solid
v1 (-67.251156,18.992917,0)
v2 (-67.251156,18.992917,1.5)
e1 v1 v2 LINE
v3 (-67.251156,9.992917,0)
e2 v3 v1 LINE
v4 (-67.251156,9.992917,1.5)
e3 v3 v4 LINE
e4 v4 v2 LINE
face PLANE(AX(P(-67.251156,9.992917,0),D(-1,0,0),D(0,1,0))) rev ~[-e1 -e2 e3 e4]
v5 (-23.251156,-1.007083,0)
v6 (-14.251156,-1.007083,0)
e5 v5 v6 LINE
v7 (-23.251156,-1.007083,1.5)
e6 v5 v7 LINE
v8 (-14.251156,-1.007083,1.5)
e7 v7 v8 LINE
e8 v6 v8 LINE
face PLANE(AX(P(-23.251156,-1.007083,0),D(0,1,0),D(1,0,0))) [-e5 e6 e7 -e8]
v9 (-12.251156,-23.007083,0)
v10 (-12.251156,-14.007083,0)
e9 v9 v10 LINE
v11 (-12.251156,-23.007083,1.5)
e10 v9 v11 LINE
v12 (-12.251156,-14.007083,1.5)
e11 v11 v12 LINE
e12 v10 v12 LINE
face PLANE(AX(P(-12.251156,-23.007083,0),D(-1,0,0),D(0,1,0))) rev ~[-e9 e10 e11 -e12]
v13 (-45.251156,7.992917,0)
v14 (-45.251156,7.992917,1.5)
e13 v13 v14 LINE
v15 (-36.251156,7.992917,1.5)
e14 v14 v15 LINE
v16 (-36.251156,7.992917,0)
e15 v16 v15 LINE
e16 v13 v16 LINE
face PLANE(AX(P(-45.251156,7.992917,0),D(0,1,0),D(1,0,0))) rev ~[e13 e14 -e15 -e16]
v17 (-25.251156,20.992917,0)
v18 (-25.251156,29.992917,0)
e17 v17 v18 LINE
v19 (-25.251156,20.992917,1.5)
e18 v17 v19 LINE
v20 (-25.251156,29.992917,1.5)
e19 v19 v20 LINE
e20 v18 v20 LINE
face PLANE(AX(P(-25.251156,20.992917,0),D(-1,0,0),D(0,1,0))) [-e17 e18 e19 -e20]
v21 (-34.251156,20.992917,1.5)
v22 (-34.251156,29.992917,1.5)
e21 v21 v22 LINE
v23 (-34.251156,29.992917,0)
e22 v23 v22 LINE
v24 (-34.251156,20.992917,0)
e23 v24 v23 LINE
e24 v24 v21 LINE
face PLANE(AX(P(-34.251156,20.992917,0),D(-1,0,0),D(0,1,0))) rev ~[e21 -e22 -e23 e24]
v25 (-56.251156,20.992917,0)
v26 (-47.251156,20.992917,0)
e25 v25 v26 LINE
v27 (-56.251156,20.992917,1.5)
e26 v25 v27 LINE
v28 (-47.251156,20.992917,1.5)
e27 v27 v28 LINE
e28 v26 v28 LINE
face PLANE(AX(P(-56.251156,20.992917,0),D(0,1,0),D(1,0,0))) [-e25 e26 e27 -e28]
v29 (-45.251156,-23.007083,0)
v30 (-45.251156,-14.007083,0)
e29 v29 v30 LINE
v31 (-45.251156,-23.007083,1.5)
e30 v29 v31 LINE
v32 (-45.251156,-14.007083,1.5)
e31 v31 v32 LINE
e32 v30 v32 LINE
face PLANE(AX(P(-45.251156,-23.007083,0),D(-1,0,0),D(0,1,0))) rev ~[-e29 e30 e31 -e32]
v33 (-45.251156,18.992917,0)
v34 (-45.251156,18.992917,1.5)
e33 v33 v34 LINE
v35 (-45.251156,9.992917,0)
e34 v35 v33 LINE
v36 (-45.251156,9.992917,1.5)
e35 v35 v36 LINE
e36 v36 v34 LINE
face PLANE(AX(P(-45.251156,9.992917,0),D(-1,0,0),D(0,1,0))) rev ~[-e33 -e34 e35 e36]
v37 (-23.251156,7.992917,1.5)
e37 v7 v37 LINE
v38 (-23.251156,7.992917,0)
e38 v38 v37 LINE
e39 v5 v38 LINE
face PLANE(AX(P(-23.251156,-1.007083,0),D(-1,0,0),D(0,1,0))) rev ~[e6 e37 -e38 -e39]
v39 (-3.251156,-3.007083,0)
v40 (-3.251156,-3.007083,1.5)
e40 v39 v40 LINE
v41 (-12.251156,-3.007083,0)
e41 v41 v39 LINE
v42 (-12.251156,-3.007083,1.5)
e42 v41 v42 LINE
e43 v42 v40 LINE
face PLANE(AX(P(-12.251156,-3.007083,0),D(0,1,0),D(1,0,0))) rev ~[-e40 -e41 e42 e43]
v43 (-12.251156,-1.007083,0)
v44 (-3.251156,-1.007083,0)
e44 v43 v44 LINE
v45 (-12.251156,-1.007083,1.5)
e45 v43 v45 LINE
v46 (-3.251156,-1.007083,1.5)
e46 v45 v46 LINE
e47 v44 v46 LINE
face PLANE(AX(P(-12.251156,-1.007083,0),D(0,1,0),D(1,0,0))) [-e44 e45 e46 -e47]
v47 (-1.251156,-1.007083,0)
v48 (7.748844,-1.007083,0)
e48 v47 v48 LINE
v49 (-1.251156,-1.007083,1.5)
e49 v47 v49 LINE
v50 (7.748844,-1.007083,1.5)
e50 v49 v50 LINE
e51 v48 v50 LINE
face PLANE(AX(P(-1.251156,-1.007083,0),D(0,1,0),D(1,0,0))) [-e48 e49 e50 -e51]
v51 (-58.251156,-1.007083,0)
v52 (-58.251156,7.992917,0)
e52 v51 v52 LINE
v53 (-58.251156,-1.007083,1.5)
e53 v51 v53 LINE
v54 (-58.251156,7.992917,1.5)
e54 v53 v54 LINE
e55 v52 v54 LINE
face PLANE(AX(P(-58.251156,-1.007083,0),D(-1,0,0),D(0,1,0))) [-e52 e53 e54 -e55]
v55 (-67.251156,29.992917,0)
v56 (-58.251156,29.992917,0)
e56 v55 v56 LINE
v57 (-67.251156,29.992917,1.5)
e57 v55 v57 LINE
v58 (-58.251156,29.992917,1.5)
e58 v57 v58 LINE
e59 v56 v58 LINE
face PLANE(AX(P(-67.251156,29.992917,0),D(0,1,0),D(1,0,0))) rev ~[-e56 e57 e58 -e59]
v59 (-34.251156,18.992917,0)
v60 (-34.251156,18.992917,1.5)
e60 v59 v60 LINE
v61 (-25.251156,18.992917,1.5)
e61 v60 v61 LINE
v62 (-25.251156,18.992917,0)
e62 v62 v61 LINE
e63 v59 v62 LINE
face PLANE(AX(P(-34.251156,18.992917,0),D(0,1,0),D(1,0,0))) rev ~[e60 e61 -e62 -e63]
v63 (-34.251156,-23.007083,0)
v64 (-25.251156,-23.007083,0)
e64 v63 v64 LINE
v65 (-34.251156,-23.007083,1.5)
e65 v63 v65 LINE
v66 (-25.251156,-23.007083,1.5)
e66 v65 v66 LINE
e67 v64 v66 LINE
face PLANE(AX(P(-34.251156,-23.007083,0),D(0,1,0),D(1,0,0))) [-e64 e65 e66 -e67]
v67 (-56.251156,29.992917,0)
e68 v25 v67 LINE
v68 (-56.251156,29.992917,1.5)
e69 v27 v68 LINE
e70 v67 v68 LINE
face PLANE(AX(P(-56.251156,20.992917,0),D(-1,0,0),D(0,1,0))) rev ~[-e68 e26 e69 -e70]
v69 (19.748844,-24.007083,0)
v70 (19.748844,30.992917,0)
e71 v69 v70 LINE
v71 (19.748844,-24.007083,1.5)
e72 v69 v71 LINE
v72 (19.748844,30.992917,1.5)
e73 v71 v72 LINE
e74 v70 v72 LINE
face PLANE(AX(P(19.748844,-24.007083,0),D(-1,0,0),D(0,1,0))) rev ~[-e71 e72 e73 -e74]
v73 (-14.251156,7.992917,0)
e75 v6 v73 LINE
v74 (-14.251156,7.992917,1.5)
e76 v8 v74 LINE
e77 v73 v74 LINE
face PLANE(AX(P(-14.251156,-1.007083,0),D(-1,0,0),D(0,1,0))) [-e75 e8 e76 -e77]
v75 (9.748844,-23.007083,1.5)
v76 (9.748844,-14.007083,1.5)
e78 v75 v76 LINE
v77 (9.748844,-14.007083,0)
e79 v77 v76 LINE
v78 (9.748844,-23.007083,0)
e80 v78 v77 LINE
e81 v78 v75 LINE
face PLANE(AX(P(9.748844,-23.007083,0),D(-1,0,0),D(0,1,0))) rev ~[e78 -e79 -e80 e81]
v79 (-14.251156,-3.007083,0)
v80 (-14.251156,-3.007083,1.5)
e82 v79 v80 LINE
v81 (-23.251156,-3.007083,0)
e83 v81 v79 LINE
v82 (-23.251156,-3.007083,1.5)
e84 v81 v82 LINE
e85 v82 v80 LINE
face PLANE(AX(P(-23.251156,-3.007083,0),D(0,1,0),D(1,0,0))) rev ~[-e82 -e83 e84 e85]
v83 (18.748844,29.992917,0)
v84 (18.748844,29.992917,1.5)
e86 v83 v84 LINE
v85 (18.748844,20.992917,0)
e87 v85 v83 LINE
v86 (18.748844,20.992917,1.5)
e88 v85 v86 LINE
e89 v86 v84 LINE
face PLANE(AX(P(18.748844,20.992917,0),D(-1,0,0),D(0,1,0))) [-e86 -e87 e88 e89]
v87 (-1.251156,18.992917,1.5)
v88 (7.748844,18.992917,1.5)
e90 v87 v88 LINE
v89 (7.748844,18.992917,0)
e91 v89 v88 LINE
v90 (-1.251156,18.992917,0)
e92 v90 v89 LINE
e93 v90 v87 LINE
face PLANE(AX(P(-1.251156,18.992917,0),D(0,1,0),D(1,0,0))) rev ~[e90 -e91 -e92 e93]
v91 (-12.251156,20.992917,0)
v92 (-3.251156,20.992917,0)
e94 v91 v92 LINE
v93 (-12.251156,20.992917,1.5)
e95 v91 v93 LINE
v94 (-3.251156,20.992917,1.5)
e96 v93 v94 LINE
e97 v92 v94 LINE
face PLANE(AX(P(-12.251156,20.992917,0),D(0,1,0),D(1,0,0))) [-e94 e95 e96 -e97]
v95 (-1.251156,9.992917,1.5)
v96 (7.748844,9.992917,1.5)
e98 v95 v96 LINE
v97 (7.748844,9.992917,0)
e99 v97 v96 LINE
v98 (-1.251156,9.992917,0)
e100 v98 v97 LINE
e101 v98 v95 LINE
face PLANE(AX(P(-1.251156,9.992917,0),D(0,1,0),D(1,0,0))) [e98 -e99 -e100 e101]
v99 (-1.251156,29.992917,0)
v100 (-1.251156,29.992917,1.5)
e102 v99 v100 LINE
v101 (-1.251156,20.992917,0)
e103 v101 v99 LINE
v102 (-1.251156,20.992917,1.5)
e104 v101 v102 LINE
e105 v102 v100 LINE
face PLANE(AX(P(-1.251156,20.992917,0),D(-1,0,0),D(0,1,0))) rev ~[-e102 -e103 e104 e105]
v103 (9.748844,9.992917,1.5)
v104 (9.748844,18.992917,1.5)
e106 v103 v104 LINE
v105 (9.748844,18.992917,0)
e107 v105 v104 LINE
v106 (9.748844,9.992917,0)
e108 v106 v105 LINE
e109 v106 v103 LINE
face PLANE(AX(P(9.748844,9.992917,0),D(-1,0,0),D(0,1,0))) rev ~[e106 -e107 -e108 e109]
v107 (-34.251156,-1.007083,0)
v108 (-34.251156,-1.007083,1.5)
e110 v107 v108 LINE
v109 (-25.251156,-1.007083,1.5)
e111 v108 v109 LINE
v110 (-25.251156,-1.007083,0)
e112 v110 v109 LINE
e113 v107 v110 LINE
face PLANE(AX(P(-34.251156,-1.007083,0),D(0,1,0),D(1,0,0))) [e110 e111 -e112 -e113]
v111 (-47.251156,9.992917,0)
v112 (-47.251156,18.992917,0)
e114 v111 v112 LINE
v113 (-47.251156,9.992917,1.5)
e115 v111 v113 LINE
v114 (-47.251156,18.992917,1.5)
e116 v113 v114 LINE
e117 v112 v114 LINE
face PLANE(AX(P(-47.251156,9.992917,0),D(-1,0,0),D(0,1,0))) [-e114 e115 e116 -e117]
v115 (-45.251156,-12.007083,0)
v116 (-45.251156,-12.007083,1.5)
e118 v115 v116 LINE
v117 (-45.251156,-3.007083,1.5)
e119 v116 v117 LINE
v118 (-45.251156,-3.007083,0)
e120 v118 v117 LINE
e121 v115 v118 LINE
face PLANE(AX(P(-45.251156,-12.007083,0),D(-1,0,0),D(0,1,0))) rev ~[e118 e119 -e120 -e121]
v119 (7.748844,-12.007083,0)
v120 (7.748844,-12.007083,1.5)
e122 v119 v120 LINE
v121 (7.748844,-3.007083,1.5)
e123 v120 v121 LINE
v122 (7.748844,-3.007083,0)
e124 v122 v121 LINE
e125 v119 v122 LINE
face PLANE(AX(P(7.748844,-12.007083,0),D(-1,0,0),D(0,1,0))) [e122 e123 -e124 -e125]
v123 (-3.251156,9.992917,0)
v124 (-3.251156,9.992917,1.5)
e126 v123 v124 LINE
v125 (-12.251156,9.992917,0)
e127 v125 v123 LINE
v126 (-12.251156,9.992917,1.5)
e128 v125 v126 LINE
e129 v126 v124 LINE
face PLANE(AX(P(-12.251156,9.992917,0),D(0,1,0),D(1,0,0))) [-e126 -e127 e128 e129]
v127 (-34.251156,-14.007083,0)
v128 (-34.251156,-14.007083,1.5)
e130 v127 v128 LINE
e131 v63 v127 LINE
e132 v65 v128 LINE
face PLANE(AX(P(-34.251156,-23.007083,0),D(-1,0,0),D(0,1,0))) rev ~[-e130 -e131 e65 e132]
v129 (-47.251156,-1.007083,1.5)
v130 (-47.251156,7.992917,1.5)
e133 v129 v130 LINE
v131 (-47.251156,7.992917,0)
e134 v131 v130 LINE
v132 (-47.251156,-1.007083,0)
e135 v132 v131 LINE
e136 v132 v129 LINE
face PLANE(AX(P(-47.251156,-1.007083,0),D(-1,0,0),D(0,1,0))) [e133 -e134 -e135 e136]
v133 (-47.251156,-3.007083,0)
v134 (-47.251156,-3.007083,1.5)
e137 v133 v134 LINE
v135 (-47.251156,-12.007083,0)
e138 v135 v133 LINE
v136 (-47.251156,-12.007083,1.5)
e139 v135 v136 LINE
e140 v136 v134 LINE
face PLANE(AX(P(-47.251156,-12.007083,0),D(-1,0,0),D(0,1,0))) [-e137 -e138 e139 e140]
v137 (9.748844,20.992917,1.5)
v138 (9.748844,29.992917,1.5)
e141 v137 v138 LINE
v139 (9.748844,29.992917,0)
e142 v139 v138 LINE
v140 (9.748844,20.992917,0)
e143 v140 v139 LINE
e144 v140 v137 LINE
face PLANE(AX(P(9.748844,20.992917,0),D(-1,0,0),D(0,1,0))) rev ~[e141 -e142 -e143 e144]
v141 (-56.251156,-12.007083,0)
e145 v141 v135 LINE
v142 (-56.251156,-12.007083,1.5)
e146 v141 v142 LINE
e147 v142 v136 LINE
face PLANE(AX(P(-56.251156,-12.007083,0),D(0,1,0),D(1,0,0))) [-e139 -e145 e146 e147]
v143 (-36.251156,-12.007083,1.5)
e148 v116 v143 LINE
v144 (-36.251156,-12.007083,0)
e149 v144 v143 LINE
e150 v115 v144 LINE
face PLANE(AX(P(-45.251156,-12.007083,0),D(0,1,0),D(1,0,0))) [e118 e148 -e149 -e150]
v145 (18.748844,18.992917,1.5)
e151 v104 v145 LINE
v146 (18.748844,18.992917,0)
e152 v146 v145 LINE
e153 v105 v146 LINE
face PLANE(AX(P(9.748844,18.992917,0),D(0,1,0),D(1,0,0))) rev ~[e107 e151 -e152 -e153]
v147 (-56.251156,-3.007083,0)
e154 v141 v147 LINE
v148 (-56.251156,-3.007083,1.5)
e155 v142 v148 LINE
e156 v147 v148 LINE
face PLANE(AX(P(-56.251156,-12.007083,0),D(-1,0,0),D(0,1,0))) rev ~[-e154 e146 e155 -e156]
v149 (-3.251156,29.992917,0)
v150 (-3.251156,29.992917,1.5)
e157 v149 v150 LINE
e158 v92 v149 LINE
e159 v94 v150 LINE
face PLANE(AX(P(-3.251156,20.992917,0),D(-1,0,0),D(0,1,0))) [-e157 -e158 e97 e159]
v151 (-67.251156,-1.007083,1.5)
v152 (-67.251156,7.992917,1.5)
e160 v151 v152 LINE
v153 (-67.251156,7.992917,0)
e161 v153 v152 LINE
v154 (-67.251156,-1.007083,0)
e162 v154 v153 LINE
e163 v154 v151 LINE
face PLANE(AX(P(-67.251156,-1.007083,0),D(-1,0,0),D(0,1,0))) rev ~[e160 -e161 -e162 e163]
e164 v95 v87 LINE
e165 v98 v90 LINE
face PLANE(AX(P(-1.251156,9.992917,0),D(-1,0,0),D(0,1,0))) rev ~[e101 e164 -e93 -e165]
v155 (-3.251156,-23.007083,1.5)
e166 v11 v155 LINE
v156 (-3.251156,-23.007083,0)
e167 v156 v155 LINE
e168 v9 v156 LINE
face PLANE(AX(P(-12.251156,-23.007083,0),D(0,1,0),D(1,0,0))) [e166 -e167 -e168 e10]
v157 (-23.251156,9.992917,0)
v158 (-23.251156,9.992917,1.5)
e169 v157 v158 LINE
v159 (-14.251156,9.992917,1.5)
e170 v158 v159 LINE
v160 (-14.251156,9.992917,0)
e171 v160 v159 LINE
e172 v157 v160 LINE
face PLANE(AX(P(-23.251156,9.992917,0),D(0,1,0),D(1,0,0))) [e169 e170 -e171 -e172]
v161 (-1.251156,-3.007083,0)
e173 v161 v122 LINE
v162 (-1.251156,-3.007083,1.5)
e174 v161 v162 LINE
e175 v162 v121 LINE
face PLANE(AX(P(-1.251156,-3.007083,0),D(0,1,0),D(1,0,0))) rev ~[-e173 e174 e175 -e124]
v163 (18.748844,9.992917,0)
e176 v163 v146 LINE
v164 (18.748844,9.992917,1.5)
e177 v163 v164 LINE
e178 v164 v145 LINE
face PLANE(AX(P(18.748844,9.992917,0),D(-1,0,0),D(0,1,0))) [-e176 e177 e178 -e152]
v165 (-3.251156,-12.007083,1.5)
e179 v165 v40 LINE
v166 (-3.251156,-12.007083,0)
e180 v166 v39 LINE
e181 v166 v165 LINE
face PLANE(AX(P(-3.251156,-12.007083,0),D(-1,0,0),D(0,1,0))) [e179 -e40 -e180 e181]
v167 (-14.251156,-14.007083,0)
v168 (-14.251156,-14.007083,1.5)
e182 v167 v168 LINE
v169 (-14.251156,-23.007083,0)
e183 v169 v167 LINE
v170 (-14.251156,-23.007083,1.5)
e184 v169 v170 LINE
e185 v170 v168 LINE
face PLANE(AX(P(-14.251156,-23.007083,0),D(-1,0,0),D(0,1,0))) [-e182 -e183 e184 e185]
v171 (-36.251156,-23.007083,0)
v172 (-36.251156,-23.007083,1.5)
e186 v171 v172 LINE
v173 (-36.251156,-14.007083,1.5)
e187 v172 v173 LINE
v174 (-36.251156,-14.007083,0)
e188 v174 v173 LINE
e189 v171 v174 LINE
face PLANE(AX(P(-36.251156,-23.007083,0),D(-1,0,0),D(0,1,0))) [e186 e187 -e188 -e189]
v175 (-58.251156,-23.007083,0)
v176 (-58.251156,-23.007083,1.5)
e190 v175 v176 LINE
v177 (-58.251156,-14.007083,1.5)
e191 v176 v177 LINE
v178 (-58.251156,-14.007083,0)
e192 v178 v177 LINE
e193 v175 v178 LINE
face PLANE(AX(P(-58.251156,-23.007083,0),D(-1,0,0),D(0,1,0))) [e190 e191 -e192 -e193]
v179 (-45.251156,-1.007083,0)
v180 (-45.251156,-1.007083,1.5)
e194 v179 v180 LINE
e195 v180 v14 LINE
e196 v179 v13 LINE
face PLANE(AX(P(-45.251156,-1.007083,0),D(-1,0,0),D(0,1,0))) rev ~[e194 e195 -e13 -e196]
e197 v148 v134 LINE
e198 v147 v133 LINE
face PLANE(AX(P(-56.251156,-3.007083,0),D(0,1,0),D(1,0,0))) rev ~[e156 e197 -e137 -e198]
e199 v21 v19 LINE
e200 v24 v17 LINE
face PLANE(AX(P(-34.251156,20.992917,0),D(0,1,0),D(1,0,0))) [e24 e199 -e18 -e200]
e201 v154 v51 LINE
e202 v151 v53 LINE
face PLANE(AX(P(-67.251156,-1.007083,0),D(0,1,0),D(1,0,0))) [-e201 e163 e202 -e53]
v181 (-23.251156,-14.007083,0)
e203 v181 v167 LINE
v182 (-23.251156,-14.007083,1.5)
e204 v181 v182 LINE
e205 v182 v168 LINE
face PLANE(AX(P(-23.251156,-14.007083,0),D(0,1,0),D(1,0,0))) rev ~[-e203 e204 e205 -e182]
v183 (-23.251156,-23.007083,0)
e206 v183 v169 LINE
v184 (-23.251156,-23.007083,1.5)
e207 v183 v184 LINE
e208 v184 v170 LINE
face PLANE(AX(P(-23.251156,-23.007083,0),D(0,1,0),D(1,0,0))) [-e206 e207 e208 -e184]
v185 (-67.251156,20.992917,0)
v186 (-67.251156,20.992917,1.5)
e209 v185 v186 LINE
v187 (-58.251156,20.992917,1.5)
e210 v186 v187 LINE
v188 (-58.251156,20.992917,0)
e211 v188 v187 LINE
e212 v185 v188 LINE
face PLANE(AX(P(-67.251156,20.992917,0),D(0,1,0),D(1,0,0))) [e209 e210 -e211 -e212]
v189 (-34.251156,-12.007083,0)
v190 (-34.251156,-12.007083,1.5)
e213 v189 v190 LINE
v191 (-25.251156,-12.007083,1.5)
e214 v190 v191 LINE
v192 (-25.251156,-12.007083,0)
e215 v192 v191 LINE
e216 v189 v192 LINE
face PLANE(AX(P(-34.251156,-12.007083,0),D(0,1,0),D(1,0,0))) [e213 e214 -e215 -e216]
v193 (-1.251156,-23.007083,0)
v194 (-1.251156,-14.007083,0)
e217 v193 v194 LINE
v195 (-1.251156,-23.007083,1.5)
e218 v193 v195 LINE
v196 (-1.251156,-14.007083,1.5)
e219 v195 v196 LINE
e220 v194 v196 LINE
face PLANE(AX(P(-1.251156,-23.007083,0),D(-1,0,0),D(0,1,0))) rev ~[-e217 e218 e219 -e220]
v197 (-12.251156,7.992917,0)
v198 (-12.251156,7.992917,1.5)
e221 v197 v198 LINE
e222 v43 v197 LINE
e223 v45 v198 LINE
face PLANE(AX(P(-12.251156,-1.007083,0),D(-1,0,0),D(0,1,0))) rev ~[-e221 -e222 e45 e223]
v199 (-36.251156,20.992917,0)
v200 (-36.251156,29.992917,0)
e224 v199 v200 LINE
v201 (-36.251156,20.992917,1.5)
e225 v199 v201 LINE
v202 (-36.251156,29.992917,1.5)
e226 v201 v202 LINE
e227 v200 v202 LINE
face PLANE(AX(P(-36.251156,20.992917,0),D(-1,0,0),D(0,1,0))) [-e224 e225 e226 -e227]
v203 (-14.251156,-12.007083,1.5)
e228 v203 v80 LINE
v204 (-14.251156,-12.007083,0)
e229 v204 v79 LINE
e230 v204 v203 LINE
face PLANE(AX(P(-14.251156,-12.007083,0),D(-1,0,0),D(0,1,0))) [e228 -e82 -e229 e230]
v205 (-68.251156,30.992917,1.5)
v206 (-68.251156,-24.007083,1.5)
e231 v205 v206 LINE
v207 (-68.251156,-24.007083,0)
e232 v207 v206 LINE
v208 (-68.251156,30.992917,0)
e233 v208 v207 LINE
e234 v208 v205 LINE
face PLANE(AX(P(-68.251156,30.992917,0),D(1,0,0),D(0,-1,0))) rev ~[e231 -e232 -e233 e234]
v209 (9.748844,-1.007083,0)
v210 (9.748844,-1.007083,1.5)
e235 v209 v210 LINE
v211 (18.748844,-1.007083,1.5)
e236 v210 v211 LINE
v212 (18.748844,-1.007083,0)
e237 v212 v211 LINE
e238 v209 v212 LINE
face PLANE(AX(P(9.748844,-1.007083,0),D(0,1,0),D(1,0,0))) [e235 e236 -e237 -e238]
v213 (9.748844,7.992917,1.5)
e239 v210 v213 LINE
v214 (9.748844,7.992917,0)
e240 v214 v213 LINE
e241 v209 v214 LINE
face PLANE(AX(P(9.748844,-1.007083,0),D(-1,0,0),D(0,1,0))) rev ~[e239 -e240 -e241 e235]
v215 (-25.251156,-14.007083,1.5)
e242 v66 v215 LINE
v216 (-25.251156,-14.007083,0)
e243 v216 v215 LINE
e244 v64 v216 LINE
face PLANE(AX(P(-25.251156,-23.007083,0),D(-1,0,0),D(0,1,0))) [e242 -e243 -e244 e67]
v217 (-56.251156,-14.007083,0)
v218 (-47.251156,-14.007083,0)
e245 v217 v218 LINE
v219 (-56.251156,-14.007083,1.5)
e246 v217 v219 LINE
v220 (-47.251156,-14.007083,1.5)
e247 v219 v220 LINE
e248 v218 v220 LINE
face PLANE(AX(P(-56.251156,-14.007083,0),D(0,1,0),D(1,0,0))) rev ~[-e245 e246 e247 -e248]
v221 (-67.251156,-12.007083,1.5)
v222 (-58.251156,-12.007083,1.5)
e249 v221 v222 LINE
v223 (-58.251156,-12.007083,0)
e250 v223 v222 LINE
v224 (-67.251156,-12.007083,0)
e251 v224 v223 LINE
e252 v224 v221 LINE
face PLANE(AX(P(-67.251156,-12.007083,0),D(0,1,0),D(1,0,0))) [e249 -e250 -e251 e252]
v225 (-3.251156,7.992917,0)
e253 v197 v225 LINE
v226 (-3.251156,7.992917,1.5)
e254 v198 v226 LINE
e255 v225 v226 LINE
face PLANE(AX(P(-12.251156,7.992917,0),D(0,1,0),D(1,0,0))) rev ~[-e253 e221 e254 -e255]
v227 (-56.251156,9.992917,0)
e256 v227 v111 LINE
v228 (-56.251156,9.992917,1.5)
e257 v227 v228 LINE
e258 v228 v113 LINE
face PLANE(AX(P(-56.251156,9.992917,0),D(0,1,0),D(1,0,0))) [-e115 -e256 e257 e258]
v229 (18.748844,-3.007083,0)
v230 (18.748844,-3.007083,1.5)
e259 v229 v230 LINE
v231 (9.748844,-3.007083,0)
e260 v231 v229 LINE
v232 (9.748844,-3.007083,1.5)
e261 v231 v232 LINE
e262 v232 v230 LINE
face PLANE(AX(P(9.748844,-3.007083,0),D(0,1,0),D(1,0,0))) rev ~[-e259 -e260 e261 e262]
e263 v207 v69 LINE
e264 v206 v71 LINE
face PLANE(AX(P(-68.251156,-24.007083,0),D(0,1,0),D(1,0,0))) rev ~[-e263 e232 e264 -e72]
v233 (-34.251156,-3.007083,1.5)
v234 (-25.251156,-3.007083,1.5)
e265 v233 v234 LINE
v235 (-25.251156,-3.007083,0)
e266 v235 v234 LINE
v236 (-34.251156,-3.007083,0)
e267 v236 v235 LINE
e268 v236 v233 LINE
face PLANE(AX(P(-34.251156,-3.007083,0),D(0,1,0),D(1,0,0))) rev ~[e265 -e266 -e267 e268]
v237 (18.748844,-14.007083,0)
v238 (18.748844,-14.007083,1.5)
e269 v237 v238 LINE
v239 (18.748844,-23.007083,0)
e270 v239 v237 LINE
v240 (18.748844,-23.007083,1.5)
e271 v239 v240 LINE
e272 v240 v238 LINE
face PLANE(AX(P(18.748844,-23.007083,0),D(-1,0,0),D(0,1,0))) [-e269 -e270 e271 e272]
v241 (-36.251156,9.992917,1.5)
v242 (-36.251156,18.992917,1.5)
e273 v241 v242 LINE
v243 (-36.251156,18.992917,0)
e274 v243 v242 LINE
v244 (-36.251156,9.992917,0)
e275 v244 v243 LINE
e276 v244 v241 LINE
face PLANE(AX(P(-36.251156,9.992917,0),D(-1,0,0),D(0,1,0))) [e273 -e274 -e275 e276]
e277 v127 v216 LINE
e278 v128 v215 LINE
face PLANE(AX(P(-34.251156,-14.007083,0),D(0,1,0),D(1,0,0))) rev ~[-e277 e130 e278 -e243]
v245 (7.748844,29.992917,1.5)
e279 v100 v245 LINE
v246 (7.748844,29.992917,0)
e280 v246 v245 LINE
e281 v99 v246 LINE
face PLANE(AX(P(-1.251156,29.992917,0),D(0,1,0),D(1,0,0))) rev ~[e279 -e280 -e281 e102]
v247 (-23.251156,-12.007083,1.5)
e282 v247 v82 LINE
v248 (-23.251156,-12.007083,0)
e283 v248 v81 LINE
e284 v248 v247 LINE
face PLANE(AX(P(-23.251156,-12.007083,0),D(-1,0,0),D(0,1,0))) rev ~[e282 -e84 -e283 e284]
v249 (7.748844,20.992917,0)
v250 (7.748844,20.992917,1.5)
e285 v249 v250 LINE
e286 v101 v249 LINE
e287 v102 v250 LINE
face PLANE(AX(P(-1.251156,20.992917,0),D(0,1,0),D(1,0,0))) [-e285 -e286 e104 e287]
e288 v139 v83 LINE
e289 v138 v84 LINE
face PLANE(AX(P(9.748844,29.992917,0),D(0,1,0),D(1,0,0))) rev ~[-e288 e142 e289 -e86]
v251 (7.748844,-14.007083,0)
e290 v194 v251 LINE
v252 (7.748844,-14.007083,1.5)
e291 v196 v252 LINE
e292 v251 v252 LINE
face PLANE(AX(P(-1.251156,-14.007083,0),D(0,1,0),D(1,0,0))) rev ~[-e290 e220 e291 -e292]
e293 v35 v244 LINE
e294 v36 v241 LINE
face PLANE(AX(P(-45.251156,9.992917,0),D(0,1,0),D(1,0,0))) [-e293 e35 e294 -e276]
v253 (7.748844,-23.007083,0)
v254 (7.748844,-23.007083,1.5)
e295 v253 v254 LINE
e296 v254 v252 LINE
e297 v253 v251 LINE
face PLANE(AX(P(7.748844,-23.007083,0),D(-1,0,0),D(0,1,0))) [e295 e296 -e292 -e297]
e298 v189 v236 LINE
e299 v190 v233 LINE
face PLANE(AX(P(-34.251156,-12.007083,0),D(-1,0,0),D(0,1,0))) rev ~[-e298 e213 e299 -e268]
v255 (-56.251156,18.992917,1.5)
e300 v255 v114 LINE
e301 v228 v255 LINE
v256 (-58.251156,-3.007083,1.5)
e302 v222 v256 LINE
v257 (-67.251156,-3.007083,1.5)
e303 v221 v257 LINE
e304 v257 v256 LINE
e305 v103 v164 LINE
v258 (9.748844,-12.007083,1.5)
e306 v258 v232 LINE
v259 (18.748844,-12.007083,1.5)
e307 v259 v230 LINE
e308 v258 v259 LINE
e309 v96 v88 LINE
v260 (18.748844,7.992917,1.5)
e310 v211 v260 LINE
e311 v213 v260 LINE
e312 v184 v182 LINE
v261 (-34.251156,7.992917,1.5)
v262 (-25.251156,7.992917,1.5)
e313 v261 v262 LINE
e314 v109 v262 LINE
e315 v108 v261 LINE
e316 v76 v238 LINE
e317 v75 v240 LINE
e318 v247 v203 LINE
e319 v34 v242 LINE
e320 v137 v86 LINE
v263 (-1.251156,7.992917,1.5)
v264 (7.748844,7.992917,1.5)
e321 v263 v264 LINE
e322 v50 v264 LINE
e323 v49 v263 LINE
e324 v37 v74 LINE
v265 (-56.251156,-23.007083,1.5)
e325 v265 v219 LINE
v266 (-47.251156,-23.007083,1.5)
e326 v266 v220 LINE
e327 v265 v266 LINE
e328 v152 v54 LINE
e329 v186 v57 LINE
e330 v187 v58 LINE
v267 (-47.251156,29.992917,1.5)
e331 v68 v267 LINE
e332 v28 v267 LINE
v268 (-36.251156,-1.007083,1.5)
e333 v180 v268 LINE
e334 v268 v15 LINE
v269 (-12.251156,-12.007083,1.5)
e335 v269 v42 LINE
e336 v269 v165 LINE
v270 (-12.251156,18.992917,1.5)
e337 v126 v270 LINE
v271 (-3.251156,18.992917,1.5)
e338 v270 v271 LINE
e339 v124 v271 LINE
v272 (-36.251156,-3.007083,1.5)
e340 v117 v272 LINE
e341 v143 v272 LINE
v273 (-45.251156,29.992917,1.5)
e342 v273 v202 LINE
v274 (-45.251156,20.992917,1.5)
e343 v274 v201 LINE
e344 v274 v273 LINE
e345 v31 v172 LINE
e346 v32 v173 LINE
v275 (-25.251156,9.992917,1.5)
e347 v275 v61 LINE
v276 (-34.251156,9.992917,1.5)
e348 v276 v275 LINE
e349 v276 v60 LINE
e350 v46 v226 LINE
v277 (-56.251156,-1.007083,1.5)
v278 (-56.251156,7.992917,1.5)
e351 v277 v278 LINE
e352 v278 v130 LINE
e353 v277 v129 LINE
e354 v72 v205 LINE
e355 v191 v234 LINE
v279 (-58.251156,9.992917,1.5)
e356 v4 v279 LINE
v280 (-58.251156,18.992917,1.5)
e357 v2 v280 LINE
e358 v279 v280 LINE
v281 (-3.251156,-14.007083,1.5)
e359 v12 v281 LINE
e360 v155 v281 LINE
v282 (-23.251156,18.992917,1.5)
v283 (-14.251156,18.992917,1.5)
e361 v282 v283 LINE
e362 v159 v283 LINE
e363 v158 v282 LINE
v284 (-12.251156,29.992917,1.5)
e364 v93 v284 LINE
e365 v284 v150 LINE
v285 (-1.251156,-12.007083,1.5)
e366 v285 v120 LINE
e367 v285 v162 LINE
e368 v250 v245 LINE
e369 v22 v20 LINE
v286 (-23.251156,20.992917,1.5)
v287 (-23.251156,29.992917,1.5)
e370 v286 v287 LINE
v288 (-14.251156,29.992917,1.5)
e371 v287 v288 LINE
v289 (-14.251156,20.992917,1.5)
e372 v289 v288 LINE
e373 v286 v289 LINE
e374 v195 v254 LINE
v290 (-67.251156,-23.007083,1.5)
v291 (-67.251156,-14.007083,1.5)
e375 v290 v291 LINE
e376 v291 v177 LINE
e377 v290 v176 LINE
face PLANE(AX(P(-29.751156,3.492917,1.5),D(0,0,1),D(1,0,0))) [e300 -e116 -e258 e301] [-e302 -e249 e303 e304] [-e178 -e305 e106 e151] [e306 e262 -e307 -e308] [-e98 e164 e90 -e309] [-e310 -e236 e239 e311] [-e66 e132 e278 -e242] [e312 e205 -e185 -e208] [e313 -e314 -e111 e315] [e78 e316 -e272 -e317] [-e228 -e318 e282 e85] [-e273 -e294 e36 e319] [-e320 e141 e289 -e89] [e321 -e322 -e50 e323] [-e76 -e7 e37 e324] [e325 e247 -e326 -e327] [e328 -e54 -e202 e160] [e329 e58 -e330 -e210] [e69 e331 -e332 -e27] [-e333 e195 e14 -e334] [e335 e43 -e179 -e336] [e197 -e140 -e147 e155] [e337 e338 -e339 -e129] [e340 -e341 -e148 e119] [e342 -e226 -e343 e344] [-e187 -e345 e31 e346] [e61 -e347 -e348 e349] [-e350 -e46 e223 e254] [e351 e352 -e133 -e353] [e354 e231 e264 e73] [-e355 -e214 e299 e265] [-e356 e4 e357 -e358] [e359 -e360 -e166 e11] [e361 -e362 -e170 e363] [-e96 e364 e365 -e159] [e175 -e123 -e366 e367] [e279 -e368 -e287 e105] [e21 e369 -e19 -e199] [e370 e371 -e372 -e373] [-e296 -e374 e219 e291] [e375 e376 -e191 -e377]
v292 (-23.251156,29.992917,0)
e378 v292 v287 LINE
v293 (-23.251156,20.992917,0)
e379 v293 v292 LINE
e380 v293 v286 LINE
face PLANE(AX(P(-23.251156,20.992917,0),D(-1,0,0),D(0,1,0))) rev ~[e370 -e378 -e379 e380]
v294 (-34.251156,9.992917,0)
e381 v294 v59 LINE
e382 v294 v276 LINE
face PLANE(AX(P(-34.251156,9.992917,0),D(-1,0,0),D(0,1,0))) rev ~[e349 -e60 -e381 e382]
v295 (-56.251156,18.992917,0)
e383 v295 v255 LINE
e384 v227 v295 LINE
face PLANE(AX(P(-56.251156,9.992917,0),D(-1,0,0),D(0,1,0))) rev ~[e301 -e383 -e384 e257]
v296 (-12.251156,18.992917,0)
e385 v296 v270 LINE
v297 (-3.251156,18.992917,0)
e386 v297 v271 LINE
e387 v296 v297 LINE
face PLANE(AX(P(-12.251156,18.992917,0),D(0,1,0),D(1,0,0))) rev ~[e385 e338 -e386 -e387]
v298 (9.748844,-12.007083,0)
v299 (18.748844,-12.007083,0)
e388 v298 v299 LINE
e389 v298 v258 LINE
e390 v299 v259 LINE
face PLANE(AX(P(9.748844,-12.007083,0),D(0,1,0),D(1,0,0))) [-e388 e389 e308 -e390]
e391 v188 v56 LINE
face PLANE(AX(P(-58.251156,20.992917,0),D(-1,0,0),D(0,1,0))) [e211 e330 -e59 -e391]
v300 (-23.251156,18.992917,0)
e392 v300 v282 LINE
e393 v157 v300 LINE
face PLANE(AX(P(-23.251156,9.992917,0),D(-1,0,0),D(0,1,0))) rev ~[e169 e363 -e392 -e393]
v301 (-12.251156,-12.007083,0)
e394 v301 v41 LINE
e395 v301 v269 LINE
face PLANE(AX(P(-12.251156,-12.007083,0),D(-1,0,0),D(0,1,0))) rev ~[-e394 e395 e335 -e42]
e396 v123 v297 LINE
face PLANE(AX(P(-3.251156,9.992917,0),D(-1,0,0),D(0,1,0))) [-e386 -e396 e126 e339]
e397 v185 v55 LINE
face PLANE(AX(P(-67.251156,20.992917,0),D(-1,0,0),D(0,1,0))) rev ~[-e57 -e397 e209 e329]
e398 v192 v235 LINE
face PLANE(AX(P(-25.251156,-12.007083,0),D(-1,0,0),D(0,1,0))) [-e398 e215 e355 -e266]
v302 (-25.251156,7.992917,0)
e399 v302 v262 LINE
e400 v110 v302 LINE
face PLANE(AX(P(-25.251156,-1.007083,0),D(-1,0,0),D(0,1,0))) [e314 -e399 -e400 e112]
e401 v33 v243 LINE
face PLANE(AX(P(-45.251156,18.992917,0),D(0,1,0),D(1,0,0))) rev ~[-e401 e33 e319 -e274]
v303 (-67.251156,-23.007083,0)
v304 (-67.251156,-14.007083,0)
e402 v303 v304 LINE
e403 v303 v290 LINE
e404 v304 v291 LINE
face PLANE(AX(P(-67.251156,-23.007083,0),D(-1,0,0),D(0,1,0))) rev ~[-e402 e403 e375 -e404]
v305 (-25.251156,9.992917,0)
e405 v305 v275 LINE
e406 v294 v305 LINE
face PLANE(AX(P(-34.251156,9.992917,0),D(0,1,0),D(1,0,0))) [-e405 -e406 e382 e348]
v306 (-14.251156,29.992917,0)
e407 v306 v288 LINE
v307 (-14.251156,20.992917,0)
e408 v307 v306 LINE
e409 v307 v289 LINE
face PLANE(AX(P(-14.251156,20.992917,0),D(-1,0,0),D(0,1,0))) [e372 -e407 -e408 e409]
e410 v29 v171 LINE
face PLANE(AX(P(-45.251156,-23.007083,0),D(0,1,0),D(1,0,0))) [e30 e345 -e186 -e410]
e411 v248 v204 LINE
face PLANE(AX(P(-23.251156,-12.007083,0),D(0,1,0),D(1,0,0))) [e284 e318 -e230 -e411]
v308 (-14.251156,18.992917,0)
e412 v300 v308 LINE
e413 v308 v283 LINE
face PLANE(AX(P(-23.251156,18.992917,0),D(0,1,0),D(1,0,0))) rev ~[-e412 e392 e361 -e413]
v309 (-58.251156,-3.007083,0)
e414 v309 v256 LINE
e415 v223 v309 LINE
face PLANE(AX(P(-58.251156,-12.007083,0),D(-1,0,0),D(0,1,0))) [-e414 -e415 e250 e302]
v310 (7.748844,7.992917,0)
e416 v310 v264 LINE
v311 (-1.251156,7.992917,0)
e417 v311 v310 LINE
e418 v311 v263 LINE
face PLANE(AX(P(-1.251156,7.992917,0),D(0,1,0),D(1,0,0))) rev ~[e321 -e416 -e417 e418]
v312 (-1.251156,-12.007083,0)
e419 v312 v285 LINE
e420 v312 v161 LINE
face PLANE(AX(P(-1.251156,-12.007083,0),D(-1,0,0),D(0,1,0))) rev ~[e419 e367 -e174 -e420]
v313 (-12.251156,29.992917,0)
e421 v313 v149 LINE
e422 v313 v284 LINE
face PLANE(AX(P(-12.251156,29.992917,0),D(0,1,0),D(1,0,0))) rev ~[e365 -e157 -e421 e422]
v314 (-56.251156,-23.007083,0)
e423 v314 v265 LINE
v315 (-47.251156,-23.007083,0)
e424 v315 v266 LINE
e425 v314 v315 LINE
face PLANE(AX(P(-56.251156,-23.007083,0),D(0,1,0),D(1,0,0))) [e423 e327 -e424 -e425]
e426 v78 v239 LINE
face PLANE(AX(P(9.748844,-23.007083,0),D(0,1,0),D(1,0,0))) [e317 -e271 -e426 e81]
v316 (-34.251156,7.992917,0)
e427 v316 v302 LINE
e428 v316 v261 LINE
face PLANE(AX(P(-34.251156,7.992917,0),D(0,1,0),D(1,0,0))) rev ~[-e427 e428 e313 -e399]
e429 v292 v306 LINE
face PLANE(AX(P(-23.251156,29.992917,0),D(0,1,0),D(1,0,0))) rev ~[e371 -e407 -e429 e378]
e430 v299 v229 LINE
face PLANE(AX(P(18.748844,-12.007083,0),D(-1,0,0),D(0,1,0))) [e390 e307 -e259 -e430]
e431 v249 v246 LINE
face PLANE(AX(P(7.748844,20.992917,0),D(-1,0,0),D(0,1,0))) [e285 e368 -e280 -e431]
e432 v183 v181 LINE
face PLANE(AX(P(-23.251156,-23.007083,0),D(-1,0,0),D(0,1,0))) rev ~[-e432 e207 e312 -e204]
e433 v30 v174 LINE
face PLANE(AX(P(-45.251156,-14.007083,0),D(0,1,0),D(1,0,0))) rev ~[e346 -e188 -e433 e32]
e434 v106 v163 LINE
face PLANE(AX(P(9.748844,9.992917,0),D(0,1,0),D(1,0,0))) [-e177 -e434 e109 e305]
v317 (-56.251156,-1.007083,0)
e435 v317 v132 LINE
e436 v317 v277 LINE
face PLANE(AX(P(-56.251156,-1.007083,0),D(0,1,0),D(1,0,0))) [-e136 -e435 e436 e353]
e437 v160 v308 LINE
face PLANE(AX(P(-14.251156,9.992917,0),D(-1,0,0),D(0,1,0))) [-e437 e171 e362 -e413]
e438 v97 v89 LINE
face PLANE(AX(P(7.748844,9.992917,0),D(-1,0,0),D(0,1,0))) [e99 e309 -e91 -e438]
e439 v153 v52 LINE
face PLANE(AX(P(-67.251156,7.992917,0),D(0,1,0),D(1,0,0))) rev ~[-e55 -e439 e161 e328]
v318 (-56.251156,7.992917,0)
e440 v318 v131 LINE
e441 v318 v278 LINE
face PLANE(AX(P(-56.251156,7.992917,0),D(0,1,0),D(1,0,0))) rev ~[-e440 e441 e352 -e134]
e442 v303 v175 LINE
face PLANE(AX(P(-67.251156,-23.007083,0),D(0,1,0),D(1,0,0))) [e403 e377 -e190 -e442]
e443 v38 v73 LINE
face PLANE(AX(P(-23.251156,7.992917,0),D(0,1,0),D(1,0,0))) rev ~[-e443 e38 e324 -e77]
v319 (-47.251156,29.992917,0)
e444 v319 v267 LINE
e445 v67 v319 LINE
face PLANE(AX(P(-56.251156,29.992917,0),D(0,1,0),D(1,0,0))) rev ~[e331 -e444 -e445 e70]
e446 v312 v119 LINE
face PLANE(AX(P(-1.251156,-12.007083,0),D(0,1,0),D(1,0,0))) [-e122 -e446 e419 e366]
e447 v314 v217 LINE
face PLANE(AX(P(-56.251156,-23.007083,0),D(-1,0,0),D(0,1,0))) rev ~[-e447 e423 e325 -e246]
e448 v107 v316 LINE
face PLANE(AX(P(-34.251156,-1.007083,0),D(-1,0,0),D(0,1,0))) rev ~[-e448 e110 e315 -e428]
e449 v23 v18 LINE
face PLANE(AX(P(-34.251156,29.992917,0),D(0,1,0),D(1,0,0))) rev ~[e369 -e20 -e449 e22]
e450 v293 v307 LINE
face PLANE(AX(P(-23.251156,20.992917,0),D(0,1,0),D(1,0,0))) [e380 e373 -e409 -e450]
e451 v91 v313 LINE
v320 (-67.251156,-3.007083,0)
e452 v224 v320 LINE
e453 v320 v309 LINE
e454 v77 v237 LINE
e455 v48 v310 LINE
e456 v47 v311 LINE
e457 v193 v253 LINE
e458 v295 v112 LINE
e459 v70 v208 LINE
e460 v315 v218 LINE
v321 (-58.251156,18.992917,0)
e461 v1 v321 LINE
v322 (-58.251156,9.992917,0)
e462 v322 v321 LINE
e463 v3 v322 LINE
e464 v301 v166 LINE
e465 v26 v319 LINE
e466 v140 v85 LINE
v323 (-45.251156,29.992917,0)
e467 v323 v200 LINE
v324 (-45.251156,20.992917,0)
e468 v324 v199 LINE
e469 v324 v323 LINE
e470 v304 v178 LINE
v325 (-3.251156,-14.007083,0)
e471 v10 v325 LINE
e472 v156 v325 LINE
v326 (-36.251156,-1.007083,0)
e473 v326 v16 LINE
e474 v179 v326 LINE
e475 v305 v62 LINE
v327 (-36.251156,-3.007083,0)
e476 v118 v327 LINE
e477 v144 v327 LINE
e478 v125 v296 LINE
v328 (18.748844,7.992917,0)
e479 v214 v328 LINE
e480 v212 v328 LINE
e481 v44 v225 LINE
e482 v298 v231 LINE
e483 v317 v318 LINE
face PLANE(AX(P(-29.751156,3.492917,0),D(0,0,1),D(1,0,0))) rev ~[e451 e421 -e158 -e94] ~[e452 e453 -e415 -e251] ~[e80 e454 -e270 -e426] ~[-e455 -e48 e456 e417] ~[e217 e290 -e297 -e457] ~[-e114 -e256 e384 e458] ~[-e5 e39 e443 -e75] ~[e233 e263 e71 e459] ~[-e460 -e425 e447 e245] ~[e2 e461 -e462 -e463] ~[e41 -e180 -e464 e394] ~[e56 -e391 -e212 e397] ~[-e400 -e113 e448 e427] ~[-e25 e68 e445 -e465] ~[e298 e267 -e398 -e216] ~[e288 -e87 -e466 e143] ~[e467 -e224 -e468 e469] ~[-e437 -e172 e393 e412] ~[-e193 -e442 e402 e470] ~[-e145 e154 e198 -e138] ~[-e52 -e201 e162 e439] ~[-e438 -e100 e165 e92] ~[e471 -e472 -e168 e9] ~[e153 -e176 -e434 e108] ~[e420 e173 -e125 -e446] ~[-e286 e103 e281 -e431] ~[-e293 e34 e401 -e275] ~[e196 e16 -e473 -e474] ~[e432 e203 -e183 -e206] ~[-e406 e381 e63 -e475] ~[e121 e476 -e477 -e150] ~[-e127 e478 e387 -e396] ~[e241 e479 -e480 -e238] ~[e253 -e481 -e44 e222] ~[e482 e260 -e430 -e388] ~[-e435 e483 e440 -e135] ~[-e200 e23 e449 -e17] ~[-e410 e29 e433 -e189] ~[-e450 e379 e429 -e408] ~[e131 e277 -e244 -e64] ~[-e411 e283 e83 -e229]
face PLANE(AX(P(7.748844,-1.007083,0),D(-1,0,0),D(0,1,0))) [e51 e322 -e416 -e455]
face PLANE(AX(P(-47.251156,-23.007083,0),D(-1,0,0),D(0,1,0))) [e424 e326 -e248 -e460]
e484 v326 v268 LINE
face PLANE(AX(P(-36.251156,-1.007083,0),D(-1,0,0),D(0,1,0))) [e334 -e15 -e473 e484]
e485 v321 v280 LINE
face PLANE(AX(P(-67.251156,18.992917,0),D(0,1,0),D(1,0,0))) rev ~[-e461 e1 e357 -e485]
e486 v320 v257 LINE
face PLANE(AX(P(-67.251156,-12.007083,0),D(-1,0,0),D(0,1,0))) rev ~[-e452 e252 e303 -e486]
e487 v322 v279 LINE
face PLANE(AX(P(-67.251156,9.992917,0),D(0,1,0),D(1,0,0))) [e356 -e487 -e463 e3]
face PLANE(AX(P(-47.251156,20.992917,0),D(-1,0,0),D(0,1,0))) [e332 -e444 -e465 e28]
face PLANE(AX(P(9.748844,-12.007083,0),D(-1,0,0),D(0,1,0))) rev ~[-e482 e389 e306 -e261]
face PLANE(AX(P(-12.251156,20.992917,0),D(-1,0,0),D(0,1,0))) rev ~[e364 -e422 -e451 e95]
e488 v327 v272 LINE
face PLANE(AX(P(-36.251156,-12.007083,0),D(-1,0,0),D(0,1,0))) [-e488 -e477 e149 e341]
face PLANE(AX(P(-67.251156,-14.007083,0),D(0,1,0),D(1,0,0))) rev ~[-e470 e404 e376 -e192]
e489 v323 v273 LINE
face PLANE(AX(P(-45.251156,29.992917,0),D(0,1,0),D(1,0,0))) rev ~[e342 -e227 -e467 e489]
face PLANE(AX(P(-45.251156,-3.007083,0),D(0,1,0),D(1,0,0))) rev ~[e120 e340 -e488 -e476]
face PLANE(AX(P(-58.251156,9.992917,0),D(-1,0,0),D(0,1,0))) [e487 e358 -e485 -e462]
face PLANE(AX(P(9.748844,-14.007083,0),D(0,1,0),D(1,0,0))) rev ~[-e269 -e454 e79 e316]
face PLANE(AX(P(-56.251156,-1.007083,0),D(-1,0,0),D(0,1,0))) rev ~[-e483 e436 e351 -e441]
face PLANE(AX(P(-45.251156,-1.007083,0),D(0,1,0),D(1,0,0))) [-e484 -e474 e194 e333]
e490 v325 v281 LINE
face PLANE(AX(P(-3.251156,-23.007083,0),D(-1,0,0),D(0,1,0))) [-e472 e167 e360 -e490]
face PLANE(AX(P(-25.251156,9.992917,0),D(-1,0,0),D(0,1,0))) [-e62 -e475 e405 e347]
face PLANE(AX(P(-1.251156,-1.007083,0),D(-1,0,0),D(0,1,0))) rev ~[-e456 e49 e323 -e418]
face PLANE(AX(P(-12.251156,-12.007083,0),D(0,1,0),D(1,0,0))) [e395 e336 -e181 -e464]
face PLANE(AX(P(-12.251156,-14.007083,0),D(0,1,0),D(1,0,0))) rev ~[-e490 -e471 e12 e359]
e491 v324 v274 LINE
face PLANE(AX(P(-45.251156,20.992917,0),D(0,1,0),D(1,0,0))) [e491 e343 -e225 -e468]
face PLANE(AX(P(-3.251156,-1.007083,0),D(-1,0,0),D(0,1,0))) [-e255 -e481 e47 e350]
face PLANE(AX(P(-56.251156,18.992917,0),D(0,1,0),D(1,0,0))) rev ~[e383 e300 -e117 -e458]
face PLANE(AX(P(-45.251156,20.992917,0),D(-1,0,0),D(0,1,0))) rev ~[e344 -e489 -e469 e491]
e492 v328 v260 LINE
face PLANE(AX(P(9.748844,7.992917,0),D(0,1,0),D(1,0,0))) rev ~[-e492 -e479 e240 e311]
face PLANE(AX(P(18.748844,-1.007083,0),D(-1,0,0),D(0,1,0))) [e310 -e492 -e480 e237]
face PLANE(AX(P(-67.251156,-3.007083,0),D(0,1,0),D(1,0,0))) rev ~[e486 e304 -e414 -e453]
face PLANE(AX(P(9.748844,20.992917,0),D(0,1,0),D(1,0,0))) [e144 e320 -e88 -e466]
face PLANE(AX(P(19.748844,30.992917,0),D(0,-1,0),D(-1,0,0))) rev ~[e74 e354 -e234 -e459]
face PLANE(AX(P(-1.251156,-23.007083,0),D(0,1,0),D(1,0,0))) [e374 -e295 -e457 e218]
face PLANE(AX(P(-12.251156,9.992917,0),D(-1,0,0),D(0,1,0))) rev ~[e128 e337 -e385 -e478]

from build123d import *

# Parameters (mm, degrees)
F0_W     = 11
F0_H     = 11
F0_W_2   = 9
F0_H_2   = 9
F1_DEPTH = 1.5


with BuildPart() as f1:
    # F0 (on Top) → F1 (new body)
    with BuildSketch(Plane.XY):
        with Locations((-29.751156, 3.492917)):
            Rectangle(F0_W, F0_H)
        with Locations((-29.751156, 3.492917)):
            Rectangle(F0_W_2, F0_H_2, mode=Mode.SUBTRACT)
        with Locations((-40.751156, 3.492917)):
            Rectangle(F0_W, F0_H)
        with Locations((-40.751156, 3.492917)):
            Rectangle(F0_W_2, F0_H_2, mode=Mode.SUBTRACT)
        with Locations((-51.751156, 3.492917)):
            Rectangle(F0_W, F0_H)
        with Locations((-51.751156, 3.492917)):
            Rectangle(F0_W_2, F0_H_2, mode=Mode.SUBTRACT)
        with Locations((-62.751156, 3.492917)):
            Rectangle(F0_W, F0_H)
        with Locations((-62.751156, 3.492917)):
            Rectangle(F0_W_2, F0_H_2, mode=Mode.SUBTRACT)
        with Locations((-51.751156, -7.507083)):
            Rectangle(F0_W, F0_H)
        with Locations((-51.751156, -7.507083)):
            Rectangle(F0_W_2, F0_H_2, mode=Mode.SUBTRACT)
        with Locations((-62.751156, -7.507083)):
            Rectangle(F0_W, F0_H)
        with Locations((-62.751156, -7.507083)):
            Rectangle(F0_W_2, F0_H_2, mode=Mode.SUBTRACT)
        with Locations((-62.751156, -18.507083)):
            Rectangle(F0_W, F0_H)
        with Locations((-62.751156, -18.507083)):
            Rectangle(F0_W_2, F0_H_2, mode=Mode.SUBTRACT)
        with Locations((-51.751156, -18.507083)):
            Rectangle(F0_W, F0_H)
        with Locations((-51.751156, -18.507083)):
            Rectangle(F0_W_2, F0_H_2, mode=Mode.SUBTRACT)
        with Locations((-40.751156, -7.507083)):
            Rectangle(F0_W, F0_H)
        with Locations((-40.751156, -7.507083)):
            Rectangle(F0_W_2, F0_H_2, mode=Mode.SUBTRACT)
        with Locations((-40.751156, -18.507083)):
            Rectangle(F0_W, F0_H)
        with Locations((-40.751156, -18.507083)):
            Rectangle(F0_W_2, F0_H_2, mode=Mode.SUBTRACT)
        with Locations((-29.751156, -18.507083)):
            Rectangle(F0_W, F0_H)
        with Locations((-29.751156, -18.507083)):
            Rectangle(F0_W_2, F0_H_2, mode=Mode.SUBTRACT)
        with Locations((-29.751156, -7.507083)):
            Rectangle(F0_W, F0_H)
        with Locations((-29.751156, -7.507083)):
            Rectangle(F0_W_2, F0_H_2, mode=Mode.SUBTRACT)
        with Locations((-18.751156, -7.507083)):
            Rectangle(F0_W, F0_H)
        with Locations((-18.751156, -7.507083)):
            Rectangle(F0_W_2, F0_H_2, mode=Mode.SUBTRACT)
        with Locations((-18.751156, 3.492917)):
            Rectangle(F0_W, F0_H)
        with Locations((-18.751156, 3.492917)):
            Rectangle(F0_W_2, F0_H_2, mode=Mode.SUBTRACT)
        with Locations((-18.751156, -18.507083)):
            Rectangle(F0_W, F0_H)
        with Locations((-18.751156, -18.507083)):
            Rectangle(F0_W_2, F0_H_2, mode=Mode.SUBTRACT)
        with Locations((-7.751156, -18.507083)):
            Rectangle(F0_W, F0_H)
        with Locations((-7.751156, -18.507083)):
            Rectangle(F0_W_2, F0_H_2, mode=Mode.SUBTRACT)
        with Locations((-7.751156, -7.507083)):
            Rectangle(F0_W, F0_H)
        with Locations((-7.751156, -7.507083)):
            Rectangle(F0_W_2, F0_H_2, mode=Mode.SUBTRACT)
        with Locations((3.248844, -7.507083)):
            Rectangle(F0_W, F0_H)
        with Locations((3.248844, -7.507083)):
            Rectangle(F0_W_2, F0_H_2, mode=Mode.SUBTRACT)
        with Locations((3.248844, -18.507083)):
            Rectangle(F0_W, F0_H)
        with Locations((3.248844, -18.507083)):
            Rectangle(F0_W_2, F0_H_2, mode=Mode.SUBTRACT)
        with Locations((14.248844, -18.507083)):
            Rectangle(F0_W, F0_H)
        with Locations((14.248844, -18.507083)):
            Rectangle(F0_W_2, F0_H_2, mode=Mode.SUBTRACT)
        with Locations((14.248844, -7.507083)):
            Rectangle(F0_W, F0_H)
        with Locations((14.248844, -7.507083)):
            Rectangle(F0_W_2, F0_H_2, mode=Mode.SUBTRACT)
        with Locations((14.248844, 3.492917)):
            Rectangle(F0_W, F0_H)
        with Locations((14.248844, 3.492917)):
            Rectangle(F0_W_2, F0_H_2, mode=Mode.SUBTRACT)
        with Locations((3.248844, 3.492917)):
            Rectangle(F0_W, F0_H)
        with Locations((3.248844, 3.492917)):
            Rectangle(F0_W_2, F0_H_2, mode=Mode.SUBTRACT)
        with Locations((-7.751156, 3.492917)):
            Rectangle(F0_W, F0_H)
        with Locations((-7.751156, 3.492917)):
            Rectangle(F0_W_2, F0_H_2, mode=Mode.SUBTRACT)
        with Locations((14.248844, 14.492917)):
            Rectangle(F0_W, F0_H)
        with Locations((14.248844, 14.492917)):
            Rectangle(F0_W_2, F0_H_2, mode=Mode.SUBTRACT)
        with Locations((3.248844, 14.492917)):
            Rectangle(F0_W, F0_H)
        with Locations((3.248844, 14.492917)):
            Rectangle(F0_W_2, F0_H_2, mode=Mode.SUBTRACT)
        with Locations((-7.751156, 14.492917)):
            Rectangle(F0_W, F0_H)
        with Locations((-7.751156, 14.492917)):
            Rectangle(F0_W_2, F0_H_2, mode=Mode.SUBTRACT)
        with Locations((14.248844, 25.492917)):
            Rectangle(F0_W, F0_H)
        with Locations((14.248844, 25.492917)):
            Rectangle(F0_W_2, F0_H_2, mode=Mode.SUBTRACT)
        with Locations((3.248844, 25.492917)):
            Rectangle(F0_W, F0_H)
        with Locations((3.248844, 25.492917)):
            Rectangle(F0_W_2, F0_H_2, mode=Mode.SUBTRACT)
        with Locations((-18.751156, 14.492917)):
            Rectangle(F0_W, F0_H)
        with Locations((-18.751156, 14.492917)):
            Rectangle(F0_W_2, F0_H_2, mode=Mode.SUBTRACT)
        with Locations((-7.751156, 25.492917)):
            Rectangle(F0_W, F0_H)
        with Locations((-7.751156, 25.492917)):
            Rectangle(F0_W_2, F0_H_2, mode=Mode.SUBTRACT)
        with Locations((-18.751156, 25.492917)):
            Rectangle(F0_W, F0_H)
        with Locations((-18.751156, 25.492917)):
            Rectangle(F0_W_2, F0_H_2, mode=Mode.SUBTRACT)
        with Locations((-29.751156, 14.492917)):
            Rectangle(F0_W, F0_H)
        with Locations((-29.751156, 14.492917)):
            Rectangle(F0_W_2, F0_H_2, mode=Mode.SUBTRACT)
        with Locations((-29.751156, 25.492917)):
            Rectangle(F0_W, F0_H)
        with Locations((-29.751156, 25.492917)):
            Rectangle(F0_W_2, F0_H_2, mode=Mode.SUBTRACT)
        with Locations((-40.751156, 14.492917)):
            Rectangle(F0_W, F0_H)
        with Locations((-40.751156, 14.492917)):
            Rectangle(F0_W_2, F0_H_2, mode=Mode.SUBTRACT)
        with Locations((-40.751156, 25.492917)):
            Rectangle(F0_W, F0_H)
        with Locations((-40.751156, 25.492917)):
            Rectangle(F0_W_2, F0_H_2, mode=Mode.SUBTRACT)
        with Locations((-51.751156, 14.492917)):
            Rectangle(F0_W, F0_H)
        with Locations((-51.751156, 14.492917)):
            Rectangle(F0_W_2, F0_H_2, mode=Mode.SUBTRACT)
        with Locations((-51.751156, 25.492917)):
            Rectangle(F0_W, F0_H)
        with Locations((-51.751156, 25.492917)):
            Rectangle(F0_W_2, F0_H_2, mode=Mode.SUBTRACT)
        with Locations((-62.751156, 14.492917)):
            Rectangle(F0_W, F0_H)
        with Locations((-62.751156, 14.492917)):
            Rectangle(F0_W_2, F0_H_2, mode=Mode.SUBTRACT)
        with Locations((-62.751156, 25.492917)):
            Rectangle(F0_W, F0_H)
        with Locations((-62.751156, 25.492917)):
            Rectangle(F0_W_2, F0_H_2, mode=Mode.SUBTRACT)
    extrude(amount=F1_DEPTH)


solid = f1.part
